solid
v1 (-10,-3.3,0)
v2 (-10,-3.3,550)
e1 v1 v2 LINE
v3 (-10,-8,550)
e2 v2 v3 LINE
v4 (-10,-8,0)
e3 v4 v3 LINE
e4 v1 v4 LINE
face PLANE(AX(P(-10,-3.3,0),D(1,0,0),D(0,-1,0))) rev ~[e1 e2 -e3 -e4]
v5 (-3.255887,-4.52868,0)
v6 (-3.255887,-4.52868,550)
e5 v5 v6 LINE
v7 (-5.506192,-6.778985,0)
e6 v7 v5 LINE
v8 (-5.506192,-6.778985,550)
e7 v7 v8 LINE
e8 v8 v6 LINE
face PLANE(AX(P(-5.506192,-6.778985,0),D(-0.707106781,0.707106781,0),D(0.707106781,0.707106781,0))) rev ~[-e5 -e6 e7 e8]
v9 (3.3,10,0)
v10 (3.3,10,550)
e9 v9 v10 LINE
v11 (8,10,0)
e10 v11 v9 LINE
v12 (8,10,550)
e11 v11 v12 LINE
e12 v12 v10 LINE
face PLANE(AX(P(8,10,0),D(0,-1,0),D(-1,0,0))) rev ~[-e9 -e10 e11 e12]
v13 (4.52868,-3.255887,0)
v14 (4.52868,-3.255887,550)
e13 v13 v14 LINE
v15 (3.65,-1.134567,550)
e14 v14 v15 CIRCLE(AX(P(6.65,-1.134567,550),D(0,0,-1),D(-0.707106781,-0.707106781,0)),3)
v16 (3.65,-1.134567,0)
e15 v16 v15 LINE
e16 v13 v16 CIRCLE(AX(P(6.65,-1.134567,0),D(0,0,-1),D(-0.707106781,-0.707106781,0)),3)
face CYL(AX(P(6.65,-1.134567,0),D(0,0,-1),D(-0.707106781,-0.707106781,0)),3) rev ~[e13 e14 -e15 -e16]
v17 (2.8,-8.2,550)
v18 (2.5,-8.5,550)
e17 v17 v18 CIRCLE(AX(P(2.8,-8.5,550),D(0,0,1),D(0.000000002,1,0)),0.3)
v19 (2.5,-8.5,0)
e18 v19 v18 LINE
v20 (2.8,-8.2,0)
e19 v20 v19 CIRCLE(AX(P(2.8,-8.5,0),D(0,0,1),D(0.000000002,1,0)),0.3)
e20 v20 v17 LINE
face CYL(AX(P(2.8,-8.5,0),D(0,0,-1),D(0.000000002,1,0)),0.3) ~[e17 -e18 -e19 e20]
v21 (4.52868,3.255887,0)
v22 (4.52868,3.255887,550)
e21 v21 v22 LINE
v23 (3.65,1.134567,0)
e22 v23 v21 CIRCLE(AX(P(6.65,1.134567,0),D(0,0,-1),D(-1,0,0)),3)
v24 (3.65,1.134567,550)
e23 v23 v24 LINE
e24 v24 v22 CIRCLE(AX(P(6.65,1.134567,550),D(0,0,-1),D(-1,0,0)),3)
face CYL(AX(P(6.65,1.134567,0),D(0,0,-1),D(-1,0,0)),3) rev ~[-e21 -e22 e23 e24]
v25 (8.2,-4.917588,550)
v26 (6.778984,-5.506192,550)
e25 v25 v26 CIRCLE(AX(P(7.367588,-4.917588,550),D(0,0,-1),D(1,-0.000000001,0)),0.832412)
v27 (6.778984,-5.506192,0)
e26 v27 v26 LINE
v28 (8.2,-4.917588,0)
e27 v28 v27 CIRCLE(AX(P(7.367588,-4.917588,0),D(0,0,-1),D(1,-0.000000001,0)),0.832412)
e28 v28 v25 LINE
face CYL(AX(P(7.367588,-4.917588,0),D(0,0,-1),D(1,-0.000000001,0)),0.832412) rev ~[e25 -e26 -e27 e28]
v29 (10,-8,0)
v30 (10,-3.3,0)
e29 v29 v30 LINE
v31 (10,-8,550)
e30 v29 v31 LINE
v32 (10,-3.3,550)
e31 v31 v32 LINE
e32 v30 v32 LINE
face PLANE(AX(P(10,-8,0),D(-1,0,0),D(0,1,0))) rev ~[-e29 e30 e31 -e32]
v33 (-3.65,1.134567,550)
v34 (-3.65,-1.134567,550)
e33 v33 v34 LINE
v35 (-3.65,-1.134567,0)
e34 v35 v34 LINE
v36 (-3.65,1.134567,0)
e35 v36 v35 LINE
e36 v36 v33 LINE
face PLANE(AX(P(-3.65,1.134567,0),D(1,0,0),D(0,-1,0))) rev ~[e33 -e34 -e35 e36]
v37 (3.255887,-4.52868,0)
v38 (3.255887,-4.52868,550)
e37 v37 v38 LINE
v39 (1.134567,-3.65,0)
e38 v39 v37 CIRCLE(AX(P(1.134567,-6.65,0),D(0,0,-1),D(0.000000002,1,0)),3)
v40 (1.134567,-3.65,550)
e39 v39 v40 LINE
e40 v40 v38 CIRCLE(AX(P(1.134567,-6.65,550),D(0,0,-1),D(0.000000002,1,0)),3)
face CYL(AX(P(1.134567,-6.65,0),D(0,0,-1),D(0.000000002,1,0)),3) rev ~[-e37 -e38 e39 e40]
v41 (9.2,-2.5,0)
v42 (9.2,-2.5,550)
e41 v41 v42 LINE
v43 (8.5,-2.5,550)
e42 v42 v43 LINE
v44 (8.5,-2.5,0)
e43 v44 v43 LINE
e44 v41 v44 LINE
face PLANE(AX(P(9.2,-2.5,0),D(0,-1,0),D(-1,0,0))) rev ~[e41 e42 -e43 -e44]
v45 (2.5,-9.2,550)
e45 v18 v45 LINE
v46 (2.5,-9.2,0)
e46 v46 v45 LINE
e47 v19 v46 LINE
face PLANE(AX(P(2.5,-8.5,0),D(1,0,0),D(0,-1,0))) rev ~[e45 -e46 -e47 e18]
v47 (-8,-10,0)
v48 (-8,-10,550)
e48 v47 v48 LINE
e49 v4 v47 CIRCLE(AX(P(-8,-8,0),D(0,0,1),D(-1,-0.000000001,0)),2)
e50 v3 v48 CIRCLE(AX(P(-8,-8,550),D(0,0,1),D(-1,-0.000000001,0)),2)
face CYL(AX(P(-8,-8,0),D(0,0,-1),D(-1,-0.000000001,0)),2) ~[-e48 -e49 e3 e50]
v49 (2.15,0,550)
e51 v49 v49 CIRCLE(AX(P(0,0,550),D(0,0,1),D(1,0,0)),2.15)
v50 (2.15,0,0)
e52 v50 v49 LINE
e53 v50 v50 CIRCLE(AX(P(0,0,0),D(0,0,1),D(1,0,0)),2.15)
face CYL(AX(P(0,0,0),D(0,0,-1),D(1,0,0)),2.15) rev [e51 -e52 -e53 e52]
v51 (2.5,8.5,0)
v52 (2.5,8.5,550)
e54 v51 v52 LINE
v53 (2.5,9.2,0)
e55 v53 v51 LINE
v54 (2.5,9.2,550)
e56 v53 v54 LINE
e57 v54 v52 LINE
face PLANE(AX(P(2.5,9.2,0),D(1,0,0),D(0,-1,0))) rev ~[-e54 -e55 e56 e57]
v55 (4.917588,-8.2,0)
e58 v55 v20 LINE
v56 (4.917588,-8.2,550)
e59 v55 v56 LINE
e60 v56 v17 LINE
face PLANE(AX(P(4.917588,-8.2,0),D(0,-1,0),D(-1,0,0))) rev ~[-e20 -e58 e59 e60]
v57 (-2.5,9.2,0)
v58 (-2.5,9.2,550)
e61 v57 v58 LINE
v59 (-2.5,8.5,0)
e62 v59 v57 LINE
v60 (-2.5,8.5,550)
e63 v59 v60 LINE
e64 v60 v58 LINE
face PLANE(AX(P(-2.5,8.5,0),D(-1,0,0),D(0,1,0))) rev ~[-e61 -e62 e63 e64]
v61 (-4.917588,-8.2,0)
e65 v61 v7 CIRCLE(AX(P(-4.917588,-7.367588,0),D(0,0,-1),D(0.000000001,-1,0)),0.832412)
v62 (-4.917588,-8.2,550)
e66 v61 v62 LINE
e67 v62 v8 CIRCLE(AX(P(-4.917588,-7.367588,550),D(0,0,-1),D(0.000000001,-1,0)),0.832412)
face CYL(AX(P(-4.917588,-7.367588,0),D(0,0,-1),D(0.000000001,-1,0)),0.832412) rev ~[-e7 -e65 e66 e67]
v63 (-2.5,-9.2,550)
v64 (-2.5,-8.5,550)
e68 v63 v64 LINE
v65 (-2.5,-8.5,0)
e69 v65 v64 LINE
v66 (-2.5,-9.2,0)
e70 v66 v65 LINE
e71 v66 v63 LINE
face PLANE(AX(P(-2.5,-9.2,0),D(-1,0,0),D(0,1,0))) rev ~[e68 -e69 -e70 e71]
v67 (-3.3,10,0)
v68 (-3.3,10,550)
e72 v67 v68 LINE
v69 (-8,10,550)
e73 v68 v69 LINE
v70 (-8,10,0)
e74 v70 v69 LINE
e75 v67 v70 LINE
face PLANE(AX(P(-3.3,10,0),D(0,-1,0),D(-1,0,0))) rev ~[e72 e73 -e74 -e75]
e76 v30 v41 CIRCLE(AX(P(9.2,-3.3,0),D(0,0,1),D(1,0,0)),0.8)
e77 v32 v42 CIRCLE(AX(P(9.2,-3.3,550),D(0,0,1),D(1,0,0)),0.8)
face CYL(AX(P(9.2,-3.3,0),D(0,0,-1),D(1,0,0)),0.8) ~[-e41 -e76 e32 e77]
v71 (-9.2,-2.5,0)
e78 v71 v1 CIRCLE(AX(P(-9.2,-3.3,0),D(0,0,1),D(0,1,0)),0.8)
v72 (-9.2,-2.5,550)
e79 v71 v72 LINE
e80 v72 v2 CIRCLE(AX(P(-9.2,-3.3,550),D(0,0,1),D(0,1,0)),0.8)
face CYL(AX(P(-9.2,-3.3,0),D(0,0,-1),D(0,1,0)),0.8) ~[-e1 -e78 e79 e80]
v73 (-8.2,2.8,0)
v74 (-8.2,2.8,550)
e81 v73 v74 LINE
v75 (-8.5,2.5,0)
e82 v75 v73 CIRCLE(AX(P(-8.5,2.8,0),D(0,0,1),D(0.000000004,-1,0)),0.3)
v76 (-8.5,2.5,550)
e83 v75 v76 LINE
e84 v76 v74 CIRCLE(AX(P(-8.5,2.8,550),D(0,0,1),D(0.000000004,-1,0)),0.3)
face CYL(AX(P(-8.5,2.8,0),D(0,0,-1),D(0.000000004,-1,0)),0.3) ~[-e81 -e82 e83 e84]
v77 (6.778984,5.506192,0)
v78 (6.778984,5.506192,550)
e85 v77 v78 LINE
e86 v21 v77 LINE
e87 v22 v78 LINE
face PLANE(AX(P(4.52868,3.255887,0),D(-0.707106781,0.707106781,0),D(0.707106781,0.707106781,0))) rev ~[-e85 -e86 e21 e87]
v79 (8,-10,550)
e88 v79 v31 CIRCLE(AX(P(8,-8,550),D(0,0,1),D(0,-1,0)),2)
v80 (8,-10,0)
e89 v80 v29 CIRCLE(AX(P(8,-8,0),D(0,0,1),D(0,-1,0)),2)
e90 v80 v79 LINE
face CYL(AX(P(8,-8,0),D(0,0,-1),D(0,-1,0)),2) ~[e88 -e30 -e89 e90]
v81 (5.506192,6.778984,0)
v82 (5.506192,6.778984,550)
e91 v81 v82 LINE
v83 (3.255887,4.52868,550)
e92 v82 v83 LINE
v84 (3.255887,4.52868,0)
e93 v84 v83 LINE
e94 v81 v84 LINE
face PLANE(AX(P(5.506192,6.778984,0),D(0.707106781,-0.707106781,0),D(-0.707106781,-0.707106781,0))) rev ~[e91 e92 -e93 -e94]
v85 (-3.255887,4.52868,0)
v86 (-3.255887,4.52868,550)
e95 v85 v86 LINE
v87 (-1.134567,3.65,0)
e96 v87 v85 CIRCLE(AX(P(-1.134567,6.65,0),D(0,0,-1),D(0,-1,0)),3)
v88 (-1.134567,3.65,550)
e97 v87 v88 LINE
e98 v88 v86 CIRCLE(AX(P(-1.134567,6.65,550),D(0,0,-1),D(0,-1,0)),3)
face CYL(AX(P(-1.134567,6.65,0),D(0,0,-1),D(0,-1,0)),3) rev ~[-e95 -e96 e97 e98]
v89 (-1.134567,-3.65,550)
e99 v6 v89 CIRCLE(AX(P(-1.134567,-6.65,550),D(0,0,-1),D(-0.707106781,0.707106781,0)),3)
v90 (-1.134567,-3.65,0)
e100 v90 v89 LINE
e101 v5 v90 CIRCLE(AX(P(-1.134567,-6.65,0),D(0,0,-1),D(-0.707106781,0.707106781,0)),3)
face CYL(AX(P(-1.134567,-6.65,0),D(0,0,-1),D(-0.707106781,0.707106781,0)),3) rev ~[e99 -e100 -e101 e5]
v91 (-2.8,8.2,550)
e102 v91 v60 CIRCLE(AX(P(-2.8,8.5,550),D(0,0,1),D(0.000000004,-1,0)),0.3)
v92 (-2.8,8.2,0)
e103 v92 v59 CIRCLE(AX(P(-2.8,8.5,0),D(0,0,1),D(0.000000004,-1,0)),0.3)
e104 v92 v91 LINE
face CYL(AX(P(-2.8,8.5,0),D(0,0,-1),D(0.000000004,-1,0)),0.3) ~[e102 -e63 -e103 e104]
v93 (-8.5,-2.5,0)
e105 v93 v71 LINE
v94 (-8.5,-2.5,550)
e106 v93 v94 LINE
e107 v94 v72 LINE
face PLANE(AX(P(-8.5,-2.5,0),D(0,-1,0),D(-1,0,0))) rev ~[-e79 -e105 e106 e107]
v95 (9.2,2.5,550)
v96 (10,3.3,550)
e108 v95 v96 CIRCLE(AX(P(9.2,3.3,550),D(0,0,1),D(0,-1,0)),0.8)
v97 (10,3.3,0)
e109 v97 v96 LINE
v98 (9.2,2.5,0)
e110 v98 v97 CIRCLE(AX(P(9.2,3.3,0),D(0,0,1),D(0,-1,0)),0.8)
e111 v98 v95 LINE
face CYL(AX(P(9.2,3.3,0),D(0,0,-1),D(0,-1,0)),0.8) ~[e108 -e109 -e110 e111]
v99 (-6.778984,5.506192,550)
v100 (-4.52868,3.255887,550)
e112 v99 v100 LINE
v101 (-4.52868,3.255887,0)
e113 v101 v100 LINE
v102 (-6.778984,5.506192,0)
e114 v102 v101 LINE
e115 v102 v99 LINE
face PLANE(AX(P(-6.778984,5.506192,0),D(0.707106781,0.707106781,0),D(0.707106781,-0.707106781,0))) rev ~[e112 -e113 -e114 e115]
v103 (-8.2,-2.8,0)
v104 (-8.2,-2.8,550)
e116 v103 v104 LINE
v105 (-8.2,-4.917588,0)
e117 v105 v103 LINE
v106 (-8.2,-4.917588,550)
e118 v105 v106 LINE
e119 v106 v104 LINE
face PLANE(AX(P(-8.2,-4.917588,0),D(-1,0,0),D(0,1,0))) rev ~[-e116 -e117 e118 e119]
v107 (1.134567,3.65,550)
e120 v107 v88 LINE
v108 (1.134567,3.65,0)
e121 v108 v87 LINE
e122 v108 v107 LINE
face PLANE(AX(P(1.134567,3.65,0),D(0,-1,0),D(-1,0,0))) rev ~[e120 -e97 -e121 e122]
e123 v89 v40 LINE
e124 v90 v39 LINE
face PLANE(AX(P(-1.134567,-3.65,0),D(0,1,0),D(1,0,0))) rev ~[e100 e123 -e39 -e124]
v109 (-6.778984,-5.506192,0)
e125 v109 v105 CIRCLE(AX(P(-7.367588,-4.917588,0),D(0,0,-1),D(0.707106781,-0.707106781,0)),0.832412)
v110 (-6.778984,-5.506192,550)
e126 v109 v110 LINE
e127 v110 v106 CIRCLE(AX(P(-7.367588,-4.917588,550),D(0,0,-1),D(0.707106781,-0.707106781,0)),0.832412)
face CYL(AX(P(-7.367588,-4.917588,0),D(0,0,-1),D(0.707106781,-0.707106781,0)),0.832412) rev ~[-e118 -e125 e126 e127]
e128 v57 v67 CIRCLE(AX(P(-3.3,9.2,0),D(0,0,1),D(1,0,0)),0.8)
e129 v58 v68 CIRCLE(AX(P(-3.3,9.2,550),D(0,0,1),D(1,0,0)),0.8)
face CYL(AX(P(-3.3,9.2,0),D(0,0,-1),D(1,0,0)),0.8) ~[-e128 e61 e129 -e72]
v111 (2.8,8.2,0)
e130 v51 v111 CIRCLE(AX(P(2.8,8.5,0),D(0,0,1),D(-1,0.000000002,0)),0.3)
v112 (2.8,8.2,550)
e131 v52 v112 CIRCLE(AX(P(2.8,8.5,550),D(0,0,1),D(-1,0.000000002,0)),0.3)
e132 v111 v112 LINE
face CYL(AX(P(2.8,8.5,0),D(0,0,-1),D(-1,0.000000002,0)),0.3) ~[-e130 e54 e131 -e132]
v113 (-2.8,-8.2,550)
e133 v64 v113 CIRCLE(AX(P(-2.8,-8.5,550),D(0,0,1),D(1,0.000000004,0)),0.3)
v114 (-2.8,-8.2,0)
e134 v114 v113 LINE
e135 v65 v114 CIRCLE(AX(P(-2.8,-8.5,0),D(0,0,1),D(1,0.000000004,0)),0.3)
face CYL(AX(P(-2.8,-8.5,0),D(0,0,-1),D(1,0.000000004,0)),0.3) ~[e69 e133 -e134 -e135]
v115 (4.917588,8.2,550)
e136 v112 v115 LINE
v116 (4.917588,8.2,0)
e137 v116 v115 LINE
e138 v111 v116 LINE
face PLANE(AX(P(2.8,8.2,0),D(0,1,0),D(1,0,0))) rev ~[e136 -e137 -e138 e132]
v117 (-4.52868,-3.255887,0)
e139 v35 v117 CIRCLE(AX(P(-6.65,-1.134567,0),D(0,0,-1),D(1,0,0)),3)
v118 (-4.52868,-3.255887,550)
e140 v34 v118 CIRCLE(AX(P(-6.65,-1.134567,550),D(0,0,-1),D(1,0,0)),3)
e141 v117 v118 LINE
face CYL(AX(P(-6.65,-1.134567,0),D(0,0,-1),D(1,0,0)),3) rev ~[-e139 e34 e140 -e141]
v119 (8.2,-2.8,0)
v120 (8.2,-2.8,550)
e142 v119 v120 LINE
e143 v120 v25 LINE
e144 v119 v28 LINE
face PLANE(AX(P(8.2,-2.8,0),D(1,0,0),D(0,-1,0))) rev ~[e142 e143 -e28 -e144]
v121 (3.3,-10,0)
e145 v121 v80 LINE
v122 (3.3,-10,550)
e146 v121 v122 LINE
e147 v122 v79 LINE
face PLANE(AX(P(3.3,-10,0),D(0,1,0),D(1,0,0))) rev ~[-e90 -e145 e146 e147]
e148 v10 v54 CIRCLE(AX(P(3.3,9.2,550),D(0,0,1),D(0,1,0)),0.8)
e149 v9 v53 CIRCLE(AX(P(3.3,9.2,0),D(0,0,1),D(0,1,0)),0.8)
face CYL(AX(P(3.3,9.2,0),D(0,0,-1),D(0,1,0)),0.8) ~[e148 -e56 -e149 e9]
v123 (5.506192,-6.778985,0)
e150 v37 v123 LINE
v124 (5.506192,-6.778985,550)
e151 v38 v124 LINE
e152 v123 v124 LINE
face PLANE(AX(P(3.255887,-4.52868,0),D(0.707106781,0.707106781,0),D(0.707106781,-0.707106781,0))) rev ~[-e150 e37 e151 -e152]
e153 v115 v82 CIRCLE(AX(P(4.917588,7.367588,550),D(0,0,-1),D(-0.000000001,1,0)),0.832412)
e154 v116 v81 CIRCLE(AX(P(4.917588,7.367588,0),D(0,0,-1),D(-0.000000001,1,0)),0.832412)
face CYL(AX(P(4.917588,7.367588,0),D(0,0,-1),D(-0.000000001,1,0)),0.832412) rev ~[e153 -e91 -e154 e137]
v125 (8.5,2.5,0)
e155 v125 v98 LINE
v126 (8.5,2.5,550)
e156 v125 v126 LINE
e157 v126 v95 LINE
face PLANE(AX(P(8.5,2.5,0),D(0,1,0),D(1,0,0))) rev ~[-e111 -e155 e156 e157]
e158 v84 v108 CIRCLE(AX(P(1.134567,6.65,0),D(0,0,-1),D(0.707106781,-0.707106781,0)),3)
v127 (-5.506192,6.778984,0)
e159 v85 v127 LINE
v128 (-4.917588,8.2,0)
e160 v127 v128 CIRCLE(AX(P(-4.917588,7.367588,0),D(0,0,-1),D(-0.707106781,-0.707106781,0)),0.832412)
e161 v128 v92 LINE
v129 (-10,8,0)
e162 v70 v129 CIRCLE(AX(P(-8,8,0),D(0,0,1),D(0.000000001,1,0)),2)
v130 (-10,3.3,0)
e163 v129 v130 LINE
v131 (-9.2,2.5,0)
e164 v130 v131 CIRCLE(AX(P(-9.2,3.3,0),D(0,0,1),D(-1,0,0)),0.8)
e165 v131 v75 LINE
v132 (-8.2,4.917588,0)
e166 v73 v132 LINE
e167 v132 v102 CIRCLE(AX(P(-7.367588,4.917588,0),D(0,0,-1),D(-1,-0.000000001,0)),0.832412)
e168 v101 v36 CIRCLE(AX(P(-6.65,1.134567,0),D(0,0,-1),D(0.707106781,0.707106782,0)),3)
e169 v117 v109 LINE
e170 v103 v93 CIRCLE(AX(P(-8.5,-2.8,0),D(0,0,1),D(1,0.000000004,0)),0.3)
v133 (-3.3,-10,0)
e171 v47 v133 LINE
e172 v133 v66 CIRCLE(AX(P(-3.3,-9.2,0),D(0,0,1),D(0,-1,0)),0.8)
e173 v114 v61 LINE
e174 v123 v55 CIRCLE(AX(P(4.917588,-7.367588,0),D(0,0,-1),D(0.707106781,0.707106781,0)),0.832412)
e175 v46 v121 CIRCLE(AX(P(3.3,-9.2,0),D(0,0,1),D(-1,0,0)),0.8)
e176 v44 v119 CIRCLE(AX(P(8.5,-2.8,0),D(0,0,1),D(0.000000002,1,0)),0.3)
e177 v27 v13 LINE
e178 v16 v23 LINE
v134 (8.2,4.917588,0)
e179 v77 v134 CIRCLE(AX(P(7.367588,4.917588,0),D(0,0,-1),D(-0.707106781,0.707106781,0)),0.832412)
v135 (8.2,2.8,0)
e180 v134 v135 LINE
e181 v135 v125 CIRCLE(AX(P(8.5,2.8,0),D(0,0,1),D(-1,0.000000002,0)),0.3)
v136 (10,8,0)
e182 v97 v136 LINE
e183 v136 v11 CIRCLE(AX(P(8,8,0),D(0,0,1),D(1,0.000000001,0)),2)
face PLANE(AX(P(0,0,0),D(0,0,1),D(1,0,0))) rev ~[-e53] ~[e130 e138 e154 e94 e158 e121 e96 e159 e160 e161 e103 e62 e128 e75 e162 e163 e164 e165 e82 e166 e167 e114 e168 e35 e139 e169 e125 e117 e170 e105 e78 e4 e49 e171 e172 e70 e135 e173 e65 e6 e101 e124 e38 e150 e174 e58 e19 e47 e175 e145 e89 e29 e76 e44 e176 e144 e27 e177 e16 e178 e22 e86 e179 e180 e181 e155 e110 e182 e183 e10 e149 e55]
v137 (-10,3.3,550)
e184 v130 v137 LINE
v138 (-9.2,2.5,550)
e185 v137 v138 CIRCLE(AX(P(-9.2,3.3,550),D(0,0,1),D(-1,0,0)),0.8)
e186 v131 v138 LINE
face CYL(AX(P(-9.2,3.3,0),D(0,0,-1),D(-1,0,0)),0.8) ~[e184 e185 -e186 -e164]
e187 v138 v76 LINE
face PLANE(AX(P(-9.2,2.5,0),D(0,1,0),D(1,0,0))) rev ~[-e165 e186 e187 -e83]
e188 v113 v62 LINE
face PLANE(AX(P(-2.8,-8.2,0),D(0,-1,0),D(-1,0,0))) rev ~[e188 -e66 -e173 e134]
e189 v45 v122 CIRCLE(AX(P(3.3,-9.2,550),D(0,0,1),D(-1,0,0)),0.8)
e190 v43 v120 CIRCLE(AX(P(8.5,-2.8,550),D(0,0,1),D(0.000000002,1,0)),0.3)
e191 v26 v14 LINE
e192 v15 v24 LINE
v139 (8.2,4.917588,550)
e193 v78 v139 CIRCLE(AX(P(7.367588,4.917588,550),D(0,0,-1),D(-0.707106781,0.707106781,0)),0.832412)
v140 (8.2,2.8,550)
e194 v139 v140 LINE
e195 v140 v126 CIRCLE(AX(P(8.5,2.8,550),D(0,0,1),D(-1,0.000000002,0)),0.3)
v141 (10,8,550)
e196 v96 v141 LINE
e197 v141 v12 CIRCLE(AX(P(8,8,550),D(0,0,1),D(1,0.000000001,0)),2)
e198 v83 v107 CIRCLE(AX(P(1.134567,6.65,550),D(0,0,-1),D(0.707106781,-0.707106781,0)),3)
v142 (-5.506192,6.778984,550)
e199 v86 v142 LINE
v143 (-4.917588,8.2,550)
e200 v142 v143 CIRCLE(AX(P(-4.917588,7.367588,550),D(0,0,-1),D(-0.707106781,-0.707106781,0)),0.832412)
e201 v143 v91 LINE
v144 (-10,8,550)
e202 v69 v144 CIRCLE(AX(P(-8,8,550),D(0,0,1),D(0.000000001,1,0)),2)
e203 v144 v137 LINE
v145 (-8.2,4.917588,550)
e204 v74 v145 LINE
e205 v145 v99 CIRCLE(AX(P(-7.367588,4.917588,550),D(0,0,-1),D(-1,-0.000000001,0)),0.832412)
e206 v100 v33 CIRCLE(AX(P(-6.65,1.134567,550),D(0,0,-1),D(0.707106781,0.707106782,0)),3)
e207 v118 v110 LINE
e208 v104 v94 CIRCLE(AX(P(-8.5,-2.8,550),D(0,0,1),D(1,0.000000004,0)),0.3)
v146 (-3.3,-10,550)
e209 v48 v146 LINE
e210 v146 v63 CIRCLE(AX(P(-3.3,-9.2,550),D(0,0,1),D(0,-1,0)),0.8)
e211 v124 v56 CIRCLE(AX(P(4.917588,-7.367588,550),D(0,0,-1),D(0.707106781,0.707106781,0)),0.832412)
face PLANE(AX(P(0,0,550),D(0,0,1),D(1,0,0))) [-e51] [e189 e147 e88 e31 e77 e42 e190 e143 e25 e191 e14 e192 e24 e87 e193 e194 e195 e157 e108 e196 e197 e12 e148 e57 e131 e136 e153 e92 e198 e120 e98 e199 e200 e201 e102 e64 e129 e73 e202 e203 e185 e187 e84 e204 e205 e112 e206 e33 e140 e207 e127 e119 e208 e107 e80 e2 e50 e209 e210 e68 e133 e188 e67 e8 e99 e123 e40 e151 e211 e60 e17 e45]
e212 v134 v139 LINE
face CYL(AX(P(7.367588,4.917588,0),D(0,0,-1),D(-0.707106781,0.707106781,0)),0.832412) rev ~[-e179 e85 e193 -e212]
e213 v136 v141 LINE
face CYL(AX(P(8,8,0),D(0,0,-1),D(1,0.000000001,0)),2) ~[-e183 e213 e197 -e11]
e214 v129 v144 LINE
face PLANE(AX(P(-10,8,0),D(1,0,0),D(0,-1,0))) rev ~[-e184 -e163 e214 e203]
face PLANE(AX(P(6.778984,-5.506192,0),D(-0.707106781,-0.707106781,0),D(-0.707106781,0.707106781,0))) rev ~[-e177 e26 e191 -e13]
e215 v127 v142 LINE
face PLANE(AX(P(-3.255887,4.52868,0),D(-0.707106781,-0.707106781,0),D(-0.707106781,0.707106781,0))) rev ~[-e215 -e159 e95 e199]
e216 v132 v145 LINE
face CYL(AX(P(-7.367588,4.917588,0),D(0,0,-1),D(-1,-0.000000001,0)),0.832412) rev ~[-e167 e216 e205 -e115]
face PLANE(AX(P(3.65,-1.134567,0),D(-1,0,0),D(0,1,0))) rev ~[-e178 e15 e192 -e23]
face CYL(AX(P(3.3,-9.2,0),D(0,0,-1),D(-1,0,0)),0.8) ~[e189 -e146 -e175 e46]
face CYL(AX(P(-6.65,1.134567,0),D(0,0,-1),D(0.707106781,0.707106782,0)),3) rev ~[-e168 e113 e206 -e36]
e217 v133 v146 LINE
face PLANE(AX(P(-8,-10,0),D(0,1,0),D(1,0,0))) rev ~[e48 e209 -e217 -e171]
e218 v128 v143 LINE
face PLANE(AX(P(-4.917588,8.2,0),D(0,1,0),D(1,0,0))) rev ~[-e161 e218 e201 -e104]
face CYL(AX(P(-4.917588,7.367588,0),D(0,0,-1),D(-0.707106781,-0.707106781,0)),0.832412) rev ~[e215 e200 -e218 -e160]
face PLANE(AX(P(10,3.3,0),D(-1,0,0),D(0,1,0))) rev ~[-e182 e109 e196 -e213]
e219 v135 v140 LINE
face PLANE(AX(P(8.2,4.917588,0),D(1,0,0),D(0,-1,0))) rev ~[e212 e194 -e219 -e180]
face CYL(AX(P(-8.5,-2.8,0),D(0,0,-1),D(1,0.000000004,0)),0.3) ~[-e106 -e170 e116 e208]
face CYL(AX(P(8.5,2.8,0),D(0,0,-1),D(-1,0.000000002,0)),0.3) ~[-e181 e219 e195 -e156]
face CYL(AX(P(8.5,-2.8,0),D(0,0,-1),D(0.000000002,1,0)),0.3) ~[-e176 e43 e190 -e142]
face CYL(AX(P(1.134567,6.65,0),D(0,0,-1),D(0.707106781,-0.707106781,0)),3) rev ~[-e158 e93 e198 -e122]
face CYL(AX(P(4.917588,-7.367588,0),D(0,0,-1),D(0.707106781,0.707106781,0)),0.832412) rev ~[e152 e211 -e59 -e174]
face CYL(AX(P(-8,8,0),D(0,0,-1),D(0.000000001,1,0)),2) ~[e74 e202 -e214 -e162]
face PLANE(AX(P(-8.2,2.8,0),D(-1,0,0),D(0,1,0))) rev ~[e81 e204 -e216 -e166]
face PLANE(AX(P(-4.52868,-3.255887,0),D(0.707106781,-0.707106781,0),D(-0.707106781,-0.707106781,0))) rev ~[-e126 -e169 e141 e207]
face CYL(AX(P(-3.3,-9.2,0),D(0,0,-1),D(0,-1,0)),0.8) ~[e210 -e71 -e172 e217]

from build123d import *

# Parameters (mm, degrees)
BOSS_EXTRU_1_DEPTH = 550


with BuildPart() as part:
    # Esquisse1 → Boss.-Extru.1 (new body)
    with BuildSketch(Plane.XY):
        with BuildLine():
            Line((-3.255887446, 4.528679645), (-5.506192286, 6.778984485))
            ThreePointArc((-5.506192286, 6.778984485), (-5.686636441, 7.686138511), (-4.917588391, 8.199999989))
            Line((-4.917588391, 8.199999989), (-2.799999991, 8.199999989))
            ThreePointArc((-2.799999991, 8.199999989), (-2.587867957, 8.287867955), (-2.499999991, 8.499999989))
            Line((-2.499999991, 8.499999989), (-2.499999991, 9.199999989))
            ThreePointArc((-2.499999991, 9.199999989), (-2.734314566, 9.765685414), (-3.299999991, 9.999999989))
            Line((-3.299999991, 9.999999989), (-7.999999991, 9.999999989))
            ThreePointArc((-7.999999991, 9.999999989), (-9.414213554, 9.414213552), (-9.999999991, 7.999999989))
            Line((-9.999999991, 7.999999989), (-9.999999991, 3.299999989))
            ThreePointArc((-9.999999991, 3.299999989), (-9.765685416, 2.734314564), (-9.199999991, 2.499999989))
            Line((-9.199999991, 2.499999989), (-8.499999991, 2.499999989))
            ThreePointArc((-8.499999991, 2.499999989), (-8.287867957, 2.587867955), (-8.199999991, 2.799999989))
            Line((-8.199999991, 2.799999989), (-8.199999991, 4.917588389))
            ThreePointArc((-8.199999991, 4.917588389), (-7.686138517, 5.686636433), (-6.778984497, 5.506192279))
            Line((-6.778984497, 5.506192279), (-4.528679657, 3.255887439))
            ThreePointArc((-4.528679657, 3.255887439), (-3.878361403, 2.282617393), (-3.650000001, 1.134567096))
            Line((-3.650000001, 1.134567096), (-3.650000001, -1.134567114))
            ThreePointArc((-3.650000001, -1.134567114), (-3.878361403, -2.282617409), (-4.528679656, -3.255887454))
            Line((-4.528679656, -3.255887454), (-6.778984496, -5.506192294))
            ThreePointArc((-6.778984496, -5.506192294), (-7.686138522, -5.686636449), (-8.2, -4.9175884))
            Line((-8.2, -4.9175884), (-8.2, -2.8))
            ThreePointArc((-8.2, -2.8), (-8.287867966, -2.587867966), (-8.5, -2.5))
            Line((-8.5, -2.5), (-9.2, -2.5))
            ThreePointArc((-9.2, -2.5), (-9.765685425, -2.734314575), (-10, -3.3))
            Line((-10, -3.3), (-10, -8))
            ThreePointArc((-10, -8), (-9.414213562, -9.414213562), (-8, -10))
            Line((-8, -10), (-3.3, -10))
            ThreePointArc((-3.3, -10), (-2.734314575, -9.765685425), (-2.5, -9.2))
            Line((-2.5, -9.2), (-2.5, -8.5))
            ThreePointArc((-2.5, -8.5), (-2.587867966, -8.287867966), (-2.8, -8.2))
            Line((-2.8, -8.2), (-4.9175884, -8.2))
            ThreePointArc((-4.9175884, -8.2), (-5.686636444, -7.686138526), (-5.50619229, -6.778984506))
            Line((-5.50619229, -6.778984506), (-3.25588745, -4.528679666))
            ThreePointArc((-3.25588745, -4.528679666), (-2.282617404, -3.878361412), (-1.134567106, -3.650000009))
            Line((-1.134567106, -3.650000009), (1.134567104, -3.650000009))
            ThreePointArc((1.134567104, -3.650000009), (2.282617399, -3.878361412), (3.255887444, -4.528679664))
            Line((3.255887444, -4.528679664), (5.506192284, -6.778984504))
            ThreePointArc((5.506192284, -6.778984504), (5.686636439, -7.686138531), (4.917588389, -8.200000009))
            Line((4.917588389, -8.200000009), (2.799999989, -8.200000009))
            ThreePointArc((2.799999989, -8.200000009), (2.587867955, -8.287867974), (2.499999989, -8.500000009))
            Line((2.499999989, -8.500000009), (2.499999989, -9.200000009))
            ThreePointArc((2.499999989, -9.200000009), (2.734314564, -9.765685434), (3.299999989, -10.000000009))
            Line((3.299999989, -10.000000009), (7.999999989, -10.000000009))
            ThreePointArc((7.999999989, -10.000000009), (9.414213552, -9.414213571), (9.999999989, -8.000000009))
            Line((9.999999989, -8.000000009), (9.999999989, -3.300000009))
            ThreePointArc((9.999999989, -3.300000009), (9.765685414, -2.734314584), (9.199999989, -2.500000009))
            Line((9.199999989, -2.500000009), (8.499999989, -2.500000009))
            ThreePointArc((8.499999989, -2.500000009), (8.287867955, -2.587867974), (8.199999989, -2.800000009))
            Line((8.199999989, -2.800000009), (8.199999989, -4.917588409))
            ThreePointArc((8.199999989, -4.917588409), (7.686138515, -5.686636452), (6.778984495, -5.506192299))
            Line((6.778984495, -5.506192299), (4.528679655, -3.255887459))
            ThreePointArc((4.528679655, -3.255887459), (3.878361401, -2.282617412), (3.649999999, -1.134567115))
            Line((3.649999999, -1.134567115), (3.649999999, 1.134567095))
            ThreePointArc((3.649999999, 1.134567095), (3.878361401, 2.28261739), (4.528679654, 3.255887435))
            Line((4.528679654, 3.255887435), (6.778984494, 5.506192275))
            ThreePointArc((6.778984494, 5.506192275), (7.68613852, 5.68663643), (8.199999998, 4.917588381))
            Line((8.199999998, 4.917588381), (8.199999998, 2.799999981))
            ThreePointArc((8.199999998, 2.799999981), (8.287867964, 2.587867946), (8.499999998, 2.499999981))
            Line((8.499999998, 2.499999981), (9.199999998, 2.499999981))
            ThreePointArc((9.199999998, 2.499999981), (9.765685423, 2.734314556), (9.999999998, 3.299999981))
            Line((9.999999998, 3.299999981), (9.999999998, 7.999999981))
            ThreePointArc((9.999999998, 7.999999981), (9.41421356, 9.414213543), (7.999999998, 9.999999981))
            Line((7.999999998, 9.999999981), (3.299999998, 9.999999981))
            ThreePointArc((3.299999998, 9.999999981), (2.734314573, 9.765685406), (2.499999998, 9.199999981))
            Line((2.499999998, 9.199999981), (2.499999998, 8.499999981))
            ThreePointArc((2.499999998, 8.499999981), (2.587867964, 8.287867946), (2.799999998, 8.199999981))
            Line((2.799999998, 8.199999981), (4.917588398, 8.199999981))
            ThreePointArc((4.917588398, 8.199999981), (5.686636442, 7.686138507), (5.506192288, 6.778984487))
            Line((5.506192288, 6.778984487), (3.255887448, 4.528679647))
            ThreePointArc((3.255887448, 4.528679647), (2.282617402, 3.878361393), (1.134567104, 3.64999999))
            Line((1.134567104, 3.64999999), (-1.134567106, 3.64999999))
            ThreePointArc((-1.134567106, 3.64999999), (-2.282617401, 3.878361392), (-3.255887446, 4.528679645))
        make_face()
        with BuildLine():
            ThreePointArc((-2.15, 0), (0, -2.15), (2.15, 0))
            ThreePointArc((2.15, 0), (0, 2.15), (-2.15, 0))
        make_face(mode=Mode.SUBTRACT)
    extrude(amount=BOSS_EXTRU_1_DEPTH)


solid = part.part
